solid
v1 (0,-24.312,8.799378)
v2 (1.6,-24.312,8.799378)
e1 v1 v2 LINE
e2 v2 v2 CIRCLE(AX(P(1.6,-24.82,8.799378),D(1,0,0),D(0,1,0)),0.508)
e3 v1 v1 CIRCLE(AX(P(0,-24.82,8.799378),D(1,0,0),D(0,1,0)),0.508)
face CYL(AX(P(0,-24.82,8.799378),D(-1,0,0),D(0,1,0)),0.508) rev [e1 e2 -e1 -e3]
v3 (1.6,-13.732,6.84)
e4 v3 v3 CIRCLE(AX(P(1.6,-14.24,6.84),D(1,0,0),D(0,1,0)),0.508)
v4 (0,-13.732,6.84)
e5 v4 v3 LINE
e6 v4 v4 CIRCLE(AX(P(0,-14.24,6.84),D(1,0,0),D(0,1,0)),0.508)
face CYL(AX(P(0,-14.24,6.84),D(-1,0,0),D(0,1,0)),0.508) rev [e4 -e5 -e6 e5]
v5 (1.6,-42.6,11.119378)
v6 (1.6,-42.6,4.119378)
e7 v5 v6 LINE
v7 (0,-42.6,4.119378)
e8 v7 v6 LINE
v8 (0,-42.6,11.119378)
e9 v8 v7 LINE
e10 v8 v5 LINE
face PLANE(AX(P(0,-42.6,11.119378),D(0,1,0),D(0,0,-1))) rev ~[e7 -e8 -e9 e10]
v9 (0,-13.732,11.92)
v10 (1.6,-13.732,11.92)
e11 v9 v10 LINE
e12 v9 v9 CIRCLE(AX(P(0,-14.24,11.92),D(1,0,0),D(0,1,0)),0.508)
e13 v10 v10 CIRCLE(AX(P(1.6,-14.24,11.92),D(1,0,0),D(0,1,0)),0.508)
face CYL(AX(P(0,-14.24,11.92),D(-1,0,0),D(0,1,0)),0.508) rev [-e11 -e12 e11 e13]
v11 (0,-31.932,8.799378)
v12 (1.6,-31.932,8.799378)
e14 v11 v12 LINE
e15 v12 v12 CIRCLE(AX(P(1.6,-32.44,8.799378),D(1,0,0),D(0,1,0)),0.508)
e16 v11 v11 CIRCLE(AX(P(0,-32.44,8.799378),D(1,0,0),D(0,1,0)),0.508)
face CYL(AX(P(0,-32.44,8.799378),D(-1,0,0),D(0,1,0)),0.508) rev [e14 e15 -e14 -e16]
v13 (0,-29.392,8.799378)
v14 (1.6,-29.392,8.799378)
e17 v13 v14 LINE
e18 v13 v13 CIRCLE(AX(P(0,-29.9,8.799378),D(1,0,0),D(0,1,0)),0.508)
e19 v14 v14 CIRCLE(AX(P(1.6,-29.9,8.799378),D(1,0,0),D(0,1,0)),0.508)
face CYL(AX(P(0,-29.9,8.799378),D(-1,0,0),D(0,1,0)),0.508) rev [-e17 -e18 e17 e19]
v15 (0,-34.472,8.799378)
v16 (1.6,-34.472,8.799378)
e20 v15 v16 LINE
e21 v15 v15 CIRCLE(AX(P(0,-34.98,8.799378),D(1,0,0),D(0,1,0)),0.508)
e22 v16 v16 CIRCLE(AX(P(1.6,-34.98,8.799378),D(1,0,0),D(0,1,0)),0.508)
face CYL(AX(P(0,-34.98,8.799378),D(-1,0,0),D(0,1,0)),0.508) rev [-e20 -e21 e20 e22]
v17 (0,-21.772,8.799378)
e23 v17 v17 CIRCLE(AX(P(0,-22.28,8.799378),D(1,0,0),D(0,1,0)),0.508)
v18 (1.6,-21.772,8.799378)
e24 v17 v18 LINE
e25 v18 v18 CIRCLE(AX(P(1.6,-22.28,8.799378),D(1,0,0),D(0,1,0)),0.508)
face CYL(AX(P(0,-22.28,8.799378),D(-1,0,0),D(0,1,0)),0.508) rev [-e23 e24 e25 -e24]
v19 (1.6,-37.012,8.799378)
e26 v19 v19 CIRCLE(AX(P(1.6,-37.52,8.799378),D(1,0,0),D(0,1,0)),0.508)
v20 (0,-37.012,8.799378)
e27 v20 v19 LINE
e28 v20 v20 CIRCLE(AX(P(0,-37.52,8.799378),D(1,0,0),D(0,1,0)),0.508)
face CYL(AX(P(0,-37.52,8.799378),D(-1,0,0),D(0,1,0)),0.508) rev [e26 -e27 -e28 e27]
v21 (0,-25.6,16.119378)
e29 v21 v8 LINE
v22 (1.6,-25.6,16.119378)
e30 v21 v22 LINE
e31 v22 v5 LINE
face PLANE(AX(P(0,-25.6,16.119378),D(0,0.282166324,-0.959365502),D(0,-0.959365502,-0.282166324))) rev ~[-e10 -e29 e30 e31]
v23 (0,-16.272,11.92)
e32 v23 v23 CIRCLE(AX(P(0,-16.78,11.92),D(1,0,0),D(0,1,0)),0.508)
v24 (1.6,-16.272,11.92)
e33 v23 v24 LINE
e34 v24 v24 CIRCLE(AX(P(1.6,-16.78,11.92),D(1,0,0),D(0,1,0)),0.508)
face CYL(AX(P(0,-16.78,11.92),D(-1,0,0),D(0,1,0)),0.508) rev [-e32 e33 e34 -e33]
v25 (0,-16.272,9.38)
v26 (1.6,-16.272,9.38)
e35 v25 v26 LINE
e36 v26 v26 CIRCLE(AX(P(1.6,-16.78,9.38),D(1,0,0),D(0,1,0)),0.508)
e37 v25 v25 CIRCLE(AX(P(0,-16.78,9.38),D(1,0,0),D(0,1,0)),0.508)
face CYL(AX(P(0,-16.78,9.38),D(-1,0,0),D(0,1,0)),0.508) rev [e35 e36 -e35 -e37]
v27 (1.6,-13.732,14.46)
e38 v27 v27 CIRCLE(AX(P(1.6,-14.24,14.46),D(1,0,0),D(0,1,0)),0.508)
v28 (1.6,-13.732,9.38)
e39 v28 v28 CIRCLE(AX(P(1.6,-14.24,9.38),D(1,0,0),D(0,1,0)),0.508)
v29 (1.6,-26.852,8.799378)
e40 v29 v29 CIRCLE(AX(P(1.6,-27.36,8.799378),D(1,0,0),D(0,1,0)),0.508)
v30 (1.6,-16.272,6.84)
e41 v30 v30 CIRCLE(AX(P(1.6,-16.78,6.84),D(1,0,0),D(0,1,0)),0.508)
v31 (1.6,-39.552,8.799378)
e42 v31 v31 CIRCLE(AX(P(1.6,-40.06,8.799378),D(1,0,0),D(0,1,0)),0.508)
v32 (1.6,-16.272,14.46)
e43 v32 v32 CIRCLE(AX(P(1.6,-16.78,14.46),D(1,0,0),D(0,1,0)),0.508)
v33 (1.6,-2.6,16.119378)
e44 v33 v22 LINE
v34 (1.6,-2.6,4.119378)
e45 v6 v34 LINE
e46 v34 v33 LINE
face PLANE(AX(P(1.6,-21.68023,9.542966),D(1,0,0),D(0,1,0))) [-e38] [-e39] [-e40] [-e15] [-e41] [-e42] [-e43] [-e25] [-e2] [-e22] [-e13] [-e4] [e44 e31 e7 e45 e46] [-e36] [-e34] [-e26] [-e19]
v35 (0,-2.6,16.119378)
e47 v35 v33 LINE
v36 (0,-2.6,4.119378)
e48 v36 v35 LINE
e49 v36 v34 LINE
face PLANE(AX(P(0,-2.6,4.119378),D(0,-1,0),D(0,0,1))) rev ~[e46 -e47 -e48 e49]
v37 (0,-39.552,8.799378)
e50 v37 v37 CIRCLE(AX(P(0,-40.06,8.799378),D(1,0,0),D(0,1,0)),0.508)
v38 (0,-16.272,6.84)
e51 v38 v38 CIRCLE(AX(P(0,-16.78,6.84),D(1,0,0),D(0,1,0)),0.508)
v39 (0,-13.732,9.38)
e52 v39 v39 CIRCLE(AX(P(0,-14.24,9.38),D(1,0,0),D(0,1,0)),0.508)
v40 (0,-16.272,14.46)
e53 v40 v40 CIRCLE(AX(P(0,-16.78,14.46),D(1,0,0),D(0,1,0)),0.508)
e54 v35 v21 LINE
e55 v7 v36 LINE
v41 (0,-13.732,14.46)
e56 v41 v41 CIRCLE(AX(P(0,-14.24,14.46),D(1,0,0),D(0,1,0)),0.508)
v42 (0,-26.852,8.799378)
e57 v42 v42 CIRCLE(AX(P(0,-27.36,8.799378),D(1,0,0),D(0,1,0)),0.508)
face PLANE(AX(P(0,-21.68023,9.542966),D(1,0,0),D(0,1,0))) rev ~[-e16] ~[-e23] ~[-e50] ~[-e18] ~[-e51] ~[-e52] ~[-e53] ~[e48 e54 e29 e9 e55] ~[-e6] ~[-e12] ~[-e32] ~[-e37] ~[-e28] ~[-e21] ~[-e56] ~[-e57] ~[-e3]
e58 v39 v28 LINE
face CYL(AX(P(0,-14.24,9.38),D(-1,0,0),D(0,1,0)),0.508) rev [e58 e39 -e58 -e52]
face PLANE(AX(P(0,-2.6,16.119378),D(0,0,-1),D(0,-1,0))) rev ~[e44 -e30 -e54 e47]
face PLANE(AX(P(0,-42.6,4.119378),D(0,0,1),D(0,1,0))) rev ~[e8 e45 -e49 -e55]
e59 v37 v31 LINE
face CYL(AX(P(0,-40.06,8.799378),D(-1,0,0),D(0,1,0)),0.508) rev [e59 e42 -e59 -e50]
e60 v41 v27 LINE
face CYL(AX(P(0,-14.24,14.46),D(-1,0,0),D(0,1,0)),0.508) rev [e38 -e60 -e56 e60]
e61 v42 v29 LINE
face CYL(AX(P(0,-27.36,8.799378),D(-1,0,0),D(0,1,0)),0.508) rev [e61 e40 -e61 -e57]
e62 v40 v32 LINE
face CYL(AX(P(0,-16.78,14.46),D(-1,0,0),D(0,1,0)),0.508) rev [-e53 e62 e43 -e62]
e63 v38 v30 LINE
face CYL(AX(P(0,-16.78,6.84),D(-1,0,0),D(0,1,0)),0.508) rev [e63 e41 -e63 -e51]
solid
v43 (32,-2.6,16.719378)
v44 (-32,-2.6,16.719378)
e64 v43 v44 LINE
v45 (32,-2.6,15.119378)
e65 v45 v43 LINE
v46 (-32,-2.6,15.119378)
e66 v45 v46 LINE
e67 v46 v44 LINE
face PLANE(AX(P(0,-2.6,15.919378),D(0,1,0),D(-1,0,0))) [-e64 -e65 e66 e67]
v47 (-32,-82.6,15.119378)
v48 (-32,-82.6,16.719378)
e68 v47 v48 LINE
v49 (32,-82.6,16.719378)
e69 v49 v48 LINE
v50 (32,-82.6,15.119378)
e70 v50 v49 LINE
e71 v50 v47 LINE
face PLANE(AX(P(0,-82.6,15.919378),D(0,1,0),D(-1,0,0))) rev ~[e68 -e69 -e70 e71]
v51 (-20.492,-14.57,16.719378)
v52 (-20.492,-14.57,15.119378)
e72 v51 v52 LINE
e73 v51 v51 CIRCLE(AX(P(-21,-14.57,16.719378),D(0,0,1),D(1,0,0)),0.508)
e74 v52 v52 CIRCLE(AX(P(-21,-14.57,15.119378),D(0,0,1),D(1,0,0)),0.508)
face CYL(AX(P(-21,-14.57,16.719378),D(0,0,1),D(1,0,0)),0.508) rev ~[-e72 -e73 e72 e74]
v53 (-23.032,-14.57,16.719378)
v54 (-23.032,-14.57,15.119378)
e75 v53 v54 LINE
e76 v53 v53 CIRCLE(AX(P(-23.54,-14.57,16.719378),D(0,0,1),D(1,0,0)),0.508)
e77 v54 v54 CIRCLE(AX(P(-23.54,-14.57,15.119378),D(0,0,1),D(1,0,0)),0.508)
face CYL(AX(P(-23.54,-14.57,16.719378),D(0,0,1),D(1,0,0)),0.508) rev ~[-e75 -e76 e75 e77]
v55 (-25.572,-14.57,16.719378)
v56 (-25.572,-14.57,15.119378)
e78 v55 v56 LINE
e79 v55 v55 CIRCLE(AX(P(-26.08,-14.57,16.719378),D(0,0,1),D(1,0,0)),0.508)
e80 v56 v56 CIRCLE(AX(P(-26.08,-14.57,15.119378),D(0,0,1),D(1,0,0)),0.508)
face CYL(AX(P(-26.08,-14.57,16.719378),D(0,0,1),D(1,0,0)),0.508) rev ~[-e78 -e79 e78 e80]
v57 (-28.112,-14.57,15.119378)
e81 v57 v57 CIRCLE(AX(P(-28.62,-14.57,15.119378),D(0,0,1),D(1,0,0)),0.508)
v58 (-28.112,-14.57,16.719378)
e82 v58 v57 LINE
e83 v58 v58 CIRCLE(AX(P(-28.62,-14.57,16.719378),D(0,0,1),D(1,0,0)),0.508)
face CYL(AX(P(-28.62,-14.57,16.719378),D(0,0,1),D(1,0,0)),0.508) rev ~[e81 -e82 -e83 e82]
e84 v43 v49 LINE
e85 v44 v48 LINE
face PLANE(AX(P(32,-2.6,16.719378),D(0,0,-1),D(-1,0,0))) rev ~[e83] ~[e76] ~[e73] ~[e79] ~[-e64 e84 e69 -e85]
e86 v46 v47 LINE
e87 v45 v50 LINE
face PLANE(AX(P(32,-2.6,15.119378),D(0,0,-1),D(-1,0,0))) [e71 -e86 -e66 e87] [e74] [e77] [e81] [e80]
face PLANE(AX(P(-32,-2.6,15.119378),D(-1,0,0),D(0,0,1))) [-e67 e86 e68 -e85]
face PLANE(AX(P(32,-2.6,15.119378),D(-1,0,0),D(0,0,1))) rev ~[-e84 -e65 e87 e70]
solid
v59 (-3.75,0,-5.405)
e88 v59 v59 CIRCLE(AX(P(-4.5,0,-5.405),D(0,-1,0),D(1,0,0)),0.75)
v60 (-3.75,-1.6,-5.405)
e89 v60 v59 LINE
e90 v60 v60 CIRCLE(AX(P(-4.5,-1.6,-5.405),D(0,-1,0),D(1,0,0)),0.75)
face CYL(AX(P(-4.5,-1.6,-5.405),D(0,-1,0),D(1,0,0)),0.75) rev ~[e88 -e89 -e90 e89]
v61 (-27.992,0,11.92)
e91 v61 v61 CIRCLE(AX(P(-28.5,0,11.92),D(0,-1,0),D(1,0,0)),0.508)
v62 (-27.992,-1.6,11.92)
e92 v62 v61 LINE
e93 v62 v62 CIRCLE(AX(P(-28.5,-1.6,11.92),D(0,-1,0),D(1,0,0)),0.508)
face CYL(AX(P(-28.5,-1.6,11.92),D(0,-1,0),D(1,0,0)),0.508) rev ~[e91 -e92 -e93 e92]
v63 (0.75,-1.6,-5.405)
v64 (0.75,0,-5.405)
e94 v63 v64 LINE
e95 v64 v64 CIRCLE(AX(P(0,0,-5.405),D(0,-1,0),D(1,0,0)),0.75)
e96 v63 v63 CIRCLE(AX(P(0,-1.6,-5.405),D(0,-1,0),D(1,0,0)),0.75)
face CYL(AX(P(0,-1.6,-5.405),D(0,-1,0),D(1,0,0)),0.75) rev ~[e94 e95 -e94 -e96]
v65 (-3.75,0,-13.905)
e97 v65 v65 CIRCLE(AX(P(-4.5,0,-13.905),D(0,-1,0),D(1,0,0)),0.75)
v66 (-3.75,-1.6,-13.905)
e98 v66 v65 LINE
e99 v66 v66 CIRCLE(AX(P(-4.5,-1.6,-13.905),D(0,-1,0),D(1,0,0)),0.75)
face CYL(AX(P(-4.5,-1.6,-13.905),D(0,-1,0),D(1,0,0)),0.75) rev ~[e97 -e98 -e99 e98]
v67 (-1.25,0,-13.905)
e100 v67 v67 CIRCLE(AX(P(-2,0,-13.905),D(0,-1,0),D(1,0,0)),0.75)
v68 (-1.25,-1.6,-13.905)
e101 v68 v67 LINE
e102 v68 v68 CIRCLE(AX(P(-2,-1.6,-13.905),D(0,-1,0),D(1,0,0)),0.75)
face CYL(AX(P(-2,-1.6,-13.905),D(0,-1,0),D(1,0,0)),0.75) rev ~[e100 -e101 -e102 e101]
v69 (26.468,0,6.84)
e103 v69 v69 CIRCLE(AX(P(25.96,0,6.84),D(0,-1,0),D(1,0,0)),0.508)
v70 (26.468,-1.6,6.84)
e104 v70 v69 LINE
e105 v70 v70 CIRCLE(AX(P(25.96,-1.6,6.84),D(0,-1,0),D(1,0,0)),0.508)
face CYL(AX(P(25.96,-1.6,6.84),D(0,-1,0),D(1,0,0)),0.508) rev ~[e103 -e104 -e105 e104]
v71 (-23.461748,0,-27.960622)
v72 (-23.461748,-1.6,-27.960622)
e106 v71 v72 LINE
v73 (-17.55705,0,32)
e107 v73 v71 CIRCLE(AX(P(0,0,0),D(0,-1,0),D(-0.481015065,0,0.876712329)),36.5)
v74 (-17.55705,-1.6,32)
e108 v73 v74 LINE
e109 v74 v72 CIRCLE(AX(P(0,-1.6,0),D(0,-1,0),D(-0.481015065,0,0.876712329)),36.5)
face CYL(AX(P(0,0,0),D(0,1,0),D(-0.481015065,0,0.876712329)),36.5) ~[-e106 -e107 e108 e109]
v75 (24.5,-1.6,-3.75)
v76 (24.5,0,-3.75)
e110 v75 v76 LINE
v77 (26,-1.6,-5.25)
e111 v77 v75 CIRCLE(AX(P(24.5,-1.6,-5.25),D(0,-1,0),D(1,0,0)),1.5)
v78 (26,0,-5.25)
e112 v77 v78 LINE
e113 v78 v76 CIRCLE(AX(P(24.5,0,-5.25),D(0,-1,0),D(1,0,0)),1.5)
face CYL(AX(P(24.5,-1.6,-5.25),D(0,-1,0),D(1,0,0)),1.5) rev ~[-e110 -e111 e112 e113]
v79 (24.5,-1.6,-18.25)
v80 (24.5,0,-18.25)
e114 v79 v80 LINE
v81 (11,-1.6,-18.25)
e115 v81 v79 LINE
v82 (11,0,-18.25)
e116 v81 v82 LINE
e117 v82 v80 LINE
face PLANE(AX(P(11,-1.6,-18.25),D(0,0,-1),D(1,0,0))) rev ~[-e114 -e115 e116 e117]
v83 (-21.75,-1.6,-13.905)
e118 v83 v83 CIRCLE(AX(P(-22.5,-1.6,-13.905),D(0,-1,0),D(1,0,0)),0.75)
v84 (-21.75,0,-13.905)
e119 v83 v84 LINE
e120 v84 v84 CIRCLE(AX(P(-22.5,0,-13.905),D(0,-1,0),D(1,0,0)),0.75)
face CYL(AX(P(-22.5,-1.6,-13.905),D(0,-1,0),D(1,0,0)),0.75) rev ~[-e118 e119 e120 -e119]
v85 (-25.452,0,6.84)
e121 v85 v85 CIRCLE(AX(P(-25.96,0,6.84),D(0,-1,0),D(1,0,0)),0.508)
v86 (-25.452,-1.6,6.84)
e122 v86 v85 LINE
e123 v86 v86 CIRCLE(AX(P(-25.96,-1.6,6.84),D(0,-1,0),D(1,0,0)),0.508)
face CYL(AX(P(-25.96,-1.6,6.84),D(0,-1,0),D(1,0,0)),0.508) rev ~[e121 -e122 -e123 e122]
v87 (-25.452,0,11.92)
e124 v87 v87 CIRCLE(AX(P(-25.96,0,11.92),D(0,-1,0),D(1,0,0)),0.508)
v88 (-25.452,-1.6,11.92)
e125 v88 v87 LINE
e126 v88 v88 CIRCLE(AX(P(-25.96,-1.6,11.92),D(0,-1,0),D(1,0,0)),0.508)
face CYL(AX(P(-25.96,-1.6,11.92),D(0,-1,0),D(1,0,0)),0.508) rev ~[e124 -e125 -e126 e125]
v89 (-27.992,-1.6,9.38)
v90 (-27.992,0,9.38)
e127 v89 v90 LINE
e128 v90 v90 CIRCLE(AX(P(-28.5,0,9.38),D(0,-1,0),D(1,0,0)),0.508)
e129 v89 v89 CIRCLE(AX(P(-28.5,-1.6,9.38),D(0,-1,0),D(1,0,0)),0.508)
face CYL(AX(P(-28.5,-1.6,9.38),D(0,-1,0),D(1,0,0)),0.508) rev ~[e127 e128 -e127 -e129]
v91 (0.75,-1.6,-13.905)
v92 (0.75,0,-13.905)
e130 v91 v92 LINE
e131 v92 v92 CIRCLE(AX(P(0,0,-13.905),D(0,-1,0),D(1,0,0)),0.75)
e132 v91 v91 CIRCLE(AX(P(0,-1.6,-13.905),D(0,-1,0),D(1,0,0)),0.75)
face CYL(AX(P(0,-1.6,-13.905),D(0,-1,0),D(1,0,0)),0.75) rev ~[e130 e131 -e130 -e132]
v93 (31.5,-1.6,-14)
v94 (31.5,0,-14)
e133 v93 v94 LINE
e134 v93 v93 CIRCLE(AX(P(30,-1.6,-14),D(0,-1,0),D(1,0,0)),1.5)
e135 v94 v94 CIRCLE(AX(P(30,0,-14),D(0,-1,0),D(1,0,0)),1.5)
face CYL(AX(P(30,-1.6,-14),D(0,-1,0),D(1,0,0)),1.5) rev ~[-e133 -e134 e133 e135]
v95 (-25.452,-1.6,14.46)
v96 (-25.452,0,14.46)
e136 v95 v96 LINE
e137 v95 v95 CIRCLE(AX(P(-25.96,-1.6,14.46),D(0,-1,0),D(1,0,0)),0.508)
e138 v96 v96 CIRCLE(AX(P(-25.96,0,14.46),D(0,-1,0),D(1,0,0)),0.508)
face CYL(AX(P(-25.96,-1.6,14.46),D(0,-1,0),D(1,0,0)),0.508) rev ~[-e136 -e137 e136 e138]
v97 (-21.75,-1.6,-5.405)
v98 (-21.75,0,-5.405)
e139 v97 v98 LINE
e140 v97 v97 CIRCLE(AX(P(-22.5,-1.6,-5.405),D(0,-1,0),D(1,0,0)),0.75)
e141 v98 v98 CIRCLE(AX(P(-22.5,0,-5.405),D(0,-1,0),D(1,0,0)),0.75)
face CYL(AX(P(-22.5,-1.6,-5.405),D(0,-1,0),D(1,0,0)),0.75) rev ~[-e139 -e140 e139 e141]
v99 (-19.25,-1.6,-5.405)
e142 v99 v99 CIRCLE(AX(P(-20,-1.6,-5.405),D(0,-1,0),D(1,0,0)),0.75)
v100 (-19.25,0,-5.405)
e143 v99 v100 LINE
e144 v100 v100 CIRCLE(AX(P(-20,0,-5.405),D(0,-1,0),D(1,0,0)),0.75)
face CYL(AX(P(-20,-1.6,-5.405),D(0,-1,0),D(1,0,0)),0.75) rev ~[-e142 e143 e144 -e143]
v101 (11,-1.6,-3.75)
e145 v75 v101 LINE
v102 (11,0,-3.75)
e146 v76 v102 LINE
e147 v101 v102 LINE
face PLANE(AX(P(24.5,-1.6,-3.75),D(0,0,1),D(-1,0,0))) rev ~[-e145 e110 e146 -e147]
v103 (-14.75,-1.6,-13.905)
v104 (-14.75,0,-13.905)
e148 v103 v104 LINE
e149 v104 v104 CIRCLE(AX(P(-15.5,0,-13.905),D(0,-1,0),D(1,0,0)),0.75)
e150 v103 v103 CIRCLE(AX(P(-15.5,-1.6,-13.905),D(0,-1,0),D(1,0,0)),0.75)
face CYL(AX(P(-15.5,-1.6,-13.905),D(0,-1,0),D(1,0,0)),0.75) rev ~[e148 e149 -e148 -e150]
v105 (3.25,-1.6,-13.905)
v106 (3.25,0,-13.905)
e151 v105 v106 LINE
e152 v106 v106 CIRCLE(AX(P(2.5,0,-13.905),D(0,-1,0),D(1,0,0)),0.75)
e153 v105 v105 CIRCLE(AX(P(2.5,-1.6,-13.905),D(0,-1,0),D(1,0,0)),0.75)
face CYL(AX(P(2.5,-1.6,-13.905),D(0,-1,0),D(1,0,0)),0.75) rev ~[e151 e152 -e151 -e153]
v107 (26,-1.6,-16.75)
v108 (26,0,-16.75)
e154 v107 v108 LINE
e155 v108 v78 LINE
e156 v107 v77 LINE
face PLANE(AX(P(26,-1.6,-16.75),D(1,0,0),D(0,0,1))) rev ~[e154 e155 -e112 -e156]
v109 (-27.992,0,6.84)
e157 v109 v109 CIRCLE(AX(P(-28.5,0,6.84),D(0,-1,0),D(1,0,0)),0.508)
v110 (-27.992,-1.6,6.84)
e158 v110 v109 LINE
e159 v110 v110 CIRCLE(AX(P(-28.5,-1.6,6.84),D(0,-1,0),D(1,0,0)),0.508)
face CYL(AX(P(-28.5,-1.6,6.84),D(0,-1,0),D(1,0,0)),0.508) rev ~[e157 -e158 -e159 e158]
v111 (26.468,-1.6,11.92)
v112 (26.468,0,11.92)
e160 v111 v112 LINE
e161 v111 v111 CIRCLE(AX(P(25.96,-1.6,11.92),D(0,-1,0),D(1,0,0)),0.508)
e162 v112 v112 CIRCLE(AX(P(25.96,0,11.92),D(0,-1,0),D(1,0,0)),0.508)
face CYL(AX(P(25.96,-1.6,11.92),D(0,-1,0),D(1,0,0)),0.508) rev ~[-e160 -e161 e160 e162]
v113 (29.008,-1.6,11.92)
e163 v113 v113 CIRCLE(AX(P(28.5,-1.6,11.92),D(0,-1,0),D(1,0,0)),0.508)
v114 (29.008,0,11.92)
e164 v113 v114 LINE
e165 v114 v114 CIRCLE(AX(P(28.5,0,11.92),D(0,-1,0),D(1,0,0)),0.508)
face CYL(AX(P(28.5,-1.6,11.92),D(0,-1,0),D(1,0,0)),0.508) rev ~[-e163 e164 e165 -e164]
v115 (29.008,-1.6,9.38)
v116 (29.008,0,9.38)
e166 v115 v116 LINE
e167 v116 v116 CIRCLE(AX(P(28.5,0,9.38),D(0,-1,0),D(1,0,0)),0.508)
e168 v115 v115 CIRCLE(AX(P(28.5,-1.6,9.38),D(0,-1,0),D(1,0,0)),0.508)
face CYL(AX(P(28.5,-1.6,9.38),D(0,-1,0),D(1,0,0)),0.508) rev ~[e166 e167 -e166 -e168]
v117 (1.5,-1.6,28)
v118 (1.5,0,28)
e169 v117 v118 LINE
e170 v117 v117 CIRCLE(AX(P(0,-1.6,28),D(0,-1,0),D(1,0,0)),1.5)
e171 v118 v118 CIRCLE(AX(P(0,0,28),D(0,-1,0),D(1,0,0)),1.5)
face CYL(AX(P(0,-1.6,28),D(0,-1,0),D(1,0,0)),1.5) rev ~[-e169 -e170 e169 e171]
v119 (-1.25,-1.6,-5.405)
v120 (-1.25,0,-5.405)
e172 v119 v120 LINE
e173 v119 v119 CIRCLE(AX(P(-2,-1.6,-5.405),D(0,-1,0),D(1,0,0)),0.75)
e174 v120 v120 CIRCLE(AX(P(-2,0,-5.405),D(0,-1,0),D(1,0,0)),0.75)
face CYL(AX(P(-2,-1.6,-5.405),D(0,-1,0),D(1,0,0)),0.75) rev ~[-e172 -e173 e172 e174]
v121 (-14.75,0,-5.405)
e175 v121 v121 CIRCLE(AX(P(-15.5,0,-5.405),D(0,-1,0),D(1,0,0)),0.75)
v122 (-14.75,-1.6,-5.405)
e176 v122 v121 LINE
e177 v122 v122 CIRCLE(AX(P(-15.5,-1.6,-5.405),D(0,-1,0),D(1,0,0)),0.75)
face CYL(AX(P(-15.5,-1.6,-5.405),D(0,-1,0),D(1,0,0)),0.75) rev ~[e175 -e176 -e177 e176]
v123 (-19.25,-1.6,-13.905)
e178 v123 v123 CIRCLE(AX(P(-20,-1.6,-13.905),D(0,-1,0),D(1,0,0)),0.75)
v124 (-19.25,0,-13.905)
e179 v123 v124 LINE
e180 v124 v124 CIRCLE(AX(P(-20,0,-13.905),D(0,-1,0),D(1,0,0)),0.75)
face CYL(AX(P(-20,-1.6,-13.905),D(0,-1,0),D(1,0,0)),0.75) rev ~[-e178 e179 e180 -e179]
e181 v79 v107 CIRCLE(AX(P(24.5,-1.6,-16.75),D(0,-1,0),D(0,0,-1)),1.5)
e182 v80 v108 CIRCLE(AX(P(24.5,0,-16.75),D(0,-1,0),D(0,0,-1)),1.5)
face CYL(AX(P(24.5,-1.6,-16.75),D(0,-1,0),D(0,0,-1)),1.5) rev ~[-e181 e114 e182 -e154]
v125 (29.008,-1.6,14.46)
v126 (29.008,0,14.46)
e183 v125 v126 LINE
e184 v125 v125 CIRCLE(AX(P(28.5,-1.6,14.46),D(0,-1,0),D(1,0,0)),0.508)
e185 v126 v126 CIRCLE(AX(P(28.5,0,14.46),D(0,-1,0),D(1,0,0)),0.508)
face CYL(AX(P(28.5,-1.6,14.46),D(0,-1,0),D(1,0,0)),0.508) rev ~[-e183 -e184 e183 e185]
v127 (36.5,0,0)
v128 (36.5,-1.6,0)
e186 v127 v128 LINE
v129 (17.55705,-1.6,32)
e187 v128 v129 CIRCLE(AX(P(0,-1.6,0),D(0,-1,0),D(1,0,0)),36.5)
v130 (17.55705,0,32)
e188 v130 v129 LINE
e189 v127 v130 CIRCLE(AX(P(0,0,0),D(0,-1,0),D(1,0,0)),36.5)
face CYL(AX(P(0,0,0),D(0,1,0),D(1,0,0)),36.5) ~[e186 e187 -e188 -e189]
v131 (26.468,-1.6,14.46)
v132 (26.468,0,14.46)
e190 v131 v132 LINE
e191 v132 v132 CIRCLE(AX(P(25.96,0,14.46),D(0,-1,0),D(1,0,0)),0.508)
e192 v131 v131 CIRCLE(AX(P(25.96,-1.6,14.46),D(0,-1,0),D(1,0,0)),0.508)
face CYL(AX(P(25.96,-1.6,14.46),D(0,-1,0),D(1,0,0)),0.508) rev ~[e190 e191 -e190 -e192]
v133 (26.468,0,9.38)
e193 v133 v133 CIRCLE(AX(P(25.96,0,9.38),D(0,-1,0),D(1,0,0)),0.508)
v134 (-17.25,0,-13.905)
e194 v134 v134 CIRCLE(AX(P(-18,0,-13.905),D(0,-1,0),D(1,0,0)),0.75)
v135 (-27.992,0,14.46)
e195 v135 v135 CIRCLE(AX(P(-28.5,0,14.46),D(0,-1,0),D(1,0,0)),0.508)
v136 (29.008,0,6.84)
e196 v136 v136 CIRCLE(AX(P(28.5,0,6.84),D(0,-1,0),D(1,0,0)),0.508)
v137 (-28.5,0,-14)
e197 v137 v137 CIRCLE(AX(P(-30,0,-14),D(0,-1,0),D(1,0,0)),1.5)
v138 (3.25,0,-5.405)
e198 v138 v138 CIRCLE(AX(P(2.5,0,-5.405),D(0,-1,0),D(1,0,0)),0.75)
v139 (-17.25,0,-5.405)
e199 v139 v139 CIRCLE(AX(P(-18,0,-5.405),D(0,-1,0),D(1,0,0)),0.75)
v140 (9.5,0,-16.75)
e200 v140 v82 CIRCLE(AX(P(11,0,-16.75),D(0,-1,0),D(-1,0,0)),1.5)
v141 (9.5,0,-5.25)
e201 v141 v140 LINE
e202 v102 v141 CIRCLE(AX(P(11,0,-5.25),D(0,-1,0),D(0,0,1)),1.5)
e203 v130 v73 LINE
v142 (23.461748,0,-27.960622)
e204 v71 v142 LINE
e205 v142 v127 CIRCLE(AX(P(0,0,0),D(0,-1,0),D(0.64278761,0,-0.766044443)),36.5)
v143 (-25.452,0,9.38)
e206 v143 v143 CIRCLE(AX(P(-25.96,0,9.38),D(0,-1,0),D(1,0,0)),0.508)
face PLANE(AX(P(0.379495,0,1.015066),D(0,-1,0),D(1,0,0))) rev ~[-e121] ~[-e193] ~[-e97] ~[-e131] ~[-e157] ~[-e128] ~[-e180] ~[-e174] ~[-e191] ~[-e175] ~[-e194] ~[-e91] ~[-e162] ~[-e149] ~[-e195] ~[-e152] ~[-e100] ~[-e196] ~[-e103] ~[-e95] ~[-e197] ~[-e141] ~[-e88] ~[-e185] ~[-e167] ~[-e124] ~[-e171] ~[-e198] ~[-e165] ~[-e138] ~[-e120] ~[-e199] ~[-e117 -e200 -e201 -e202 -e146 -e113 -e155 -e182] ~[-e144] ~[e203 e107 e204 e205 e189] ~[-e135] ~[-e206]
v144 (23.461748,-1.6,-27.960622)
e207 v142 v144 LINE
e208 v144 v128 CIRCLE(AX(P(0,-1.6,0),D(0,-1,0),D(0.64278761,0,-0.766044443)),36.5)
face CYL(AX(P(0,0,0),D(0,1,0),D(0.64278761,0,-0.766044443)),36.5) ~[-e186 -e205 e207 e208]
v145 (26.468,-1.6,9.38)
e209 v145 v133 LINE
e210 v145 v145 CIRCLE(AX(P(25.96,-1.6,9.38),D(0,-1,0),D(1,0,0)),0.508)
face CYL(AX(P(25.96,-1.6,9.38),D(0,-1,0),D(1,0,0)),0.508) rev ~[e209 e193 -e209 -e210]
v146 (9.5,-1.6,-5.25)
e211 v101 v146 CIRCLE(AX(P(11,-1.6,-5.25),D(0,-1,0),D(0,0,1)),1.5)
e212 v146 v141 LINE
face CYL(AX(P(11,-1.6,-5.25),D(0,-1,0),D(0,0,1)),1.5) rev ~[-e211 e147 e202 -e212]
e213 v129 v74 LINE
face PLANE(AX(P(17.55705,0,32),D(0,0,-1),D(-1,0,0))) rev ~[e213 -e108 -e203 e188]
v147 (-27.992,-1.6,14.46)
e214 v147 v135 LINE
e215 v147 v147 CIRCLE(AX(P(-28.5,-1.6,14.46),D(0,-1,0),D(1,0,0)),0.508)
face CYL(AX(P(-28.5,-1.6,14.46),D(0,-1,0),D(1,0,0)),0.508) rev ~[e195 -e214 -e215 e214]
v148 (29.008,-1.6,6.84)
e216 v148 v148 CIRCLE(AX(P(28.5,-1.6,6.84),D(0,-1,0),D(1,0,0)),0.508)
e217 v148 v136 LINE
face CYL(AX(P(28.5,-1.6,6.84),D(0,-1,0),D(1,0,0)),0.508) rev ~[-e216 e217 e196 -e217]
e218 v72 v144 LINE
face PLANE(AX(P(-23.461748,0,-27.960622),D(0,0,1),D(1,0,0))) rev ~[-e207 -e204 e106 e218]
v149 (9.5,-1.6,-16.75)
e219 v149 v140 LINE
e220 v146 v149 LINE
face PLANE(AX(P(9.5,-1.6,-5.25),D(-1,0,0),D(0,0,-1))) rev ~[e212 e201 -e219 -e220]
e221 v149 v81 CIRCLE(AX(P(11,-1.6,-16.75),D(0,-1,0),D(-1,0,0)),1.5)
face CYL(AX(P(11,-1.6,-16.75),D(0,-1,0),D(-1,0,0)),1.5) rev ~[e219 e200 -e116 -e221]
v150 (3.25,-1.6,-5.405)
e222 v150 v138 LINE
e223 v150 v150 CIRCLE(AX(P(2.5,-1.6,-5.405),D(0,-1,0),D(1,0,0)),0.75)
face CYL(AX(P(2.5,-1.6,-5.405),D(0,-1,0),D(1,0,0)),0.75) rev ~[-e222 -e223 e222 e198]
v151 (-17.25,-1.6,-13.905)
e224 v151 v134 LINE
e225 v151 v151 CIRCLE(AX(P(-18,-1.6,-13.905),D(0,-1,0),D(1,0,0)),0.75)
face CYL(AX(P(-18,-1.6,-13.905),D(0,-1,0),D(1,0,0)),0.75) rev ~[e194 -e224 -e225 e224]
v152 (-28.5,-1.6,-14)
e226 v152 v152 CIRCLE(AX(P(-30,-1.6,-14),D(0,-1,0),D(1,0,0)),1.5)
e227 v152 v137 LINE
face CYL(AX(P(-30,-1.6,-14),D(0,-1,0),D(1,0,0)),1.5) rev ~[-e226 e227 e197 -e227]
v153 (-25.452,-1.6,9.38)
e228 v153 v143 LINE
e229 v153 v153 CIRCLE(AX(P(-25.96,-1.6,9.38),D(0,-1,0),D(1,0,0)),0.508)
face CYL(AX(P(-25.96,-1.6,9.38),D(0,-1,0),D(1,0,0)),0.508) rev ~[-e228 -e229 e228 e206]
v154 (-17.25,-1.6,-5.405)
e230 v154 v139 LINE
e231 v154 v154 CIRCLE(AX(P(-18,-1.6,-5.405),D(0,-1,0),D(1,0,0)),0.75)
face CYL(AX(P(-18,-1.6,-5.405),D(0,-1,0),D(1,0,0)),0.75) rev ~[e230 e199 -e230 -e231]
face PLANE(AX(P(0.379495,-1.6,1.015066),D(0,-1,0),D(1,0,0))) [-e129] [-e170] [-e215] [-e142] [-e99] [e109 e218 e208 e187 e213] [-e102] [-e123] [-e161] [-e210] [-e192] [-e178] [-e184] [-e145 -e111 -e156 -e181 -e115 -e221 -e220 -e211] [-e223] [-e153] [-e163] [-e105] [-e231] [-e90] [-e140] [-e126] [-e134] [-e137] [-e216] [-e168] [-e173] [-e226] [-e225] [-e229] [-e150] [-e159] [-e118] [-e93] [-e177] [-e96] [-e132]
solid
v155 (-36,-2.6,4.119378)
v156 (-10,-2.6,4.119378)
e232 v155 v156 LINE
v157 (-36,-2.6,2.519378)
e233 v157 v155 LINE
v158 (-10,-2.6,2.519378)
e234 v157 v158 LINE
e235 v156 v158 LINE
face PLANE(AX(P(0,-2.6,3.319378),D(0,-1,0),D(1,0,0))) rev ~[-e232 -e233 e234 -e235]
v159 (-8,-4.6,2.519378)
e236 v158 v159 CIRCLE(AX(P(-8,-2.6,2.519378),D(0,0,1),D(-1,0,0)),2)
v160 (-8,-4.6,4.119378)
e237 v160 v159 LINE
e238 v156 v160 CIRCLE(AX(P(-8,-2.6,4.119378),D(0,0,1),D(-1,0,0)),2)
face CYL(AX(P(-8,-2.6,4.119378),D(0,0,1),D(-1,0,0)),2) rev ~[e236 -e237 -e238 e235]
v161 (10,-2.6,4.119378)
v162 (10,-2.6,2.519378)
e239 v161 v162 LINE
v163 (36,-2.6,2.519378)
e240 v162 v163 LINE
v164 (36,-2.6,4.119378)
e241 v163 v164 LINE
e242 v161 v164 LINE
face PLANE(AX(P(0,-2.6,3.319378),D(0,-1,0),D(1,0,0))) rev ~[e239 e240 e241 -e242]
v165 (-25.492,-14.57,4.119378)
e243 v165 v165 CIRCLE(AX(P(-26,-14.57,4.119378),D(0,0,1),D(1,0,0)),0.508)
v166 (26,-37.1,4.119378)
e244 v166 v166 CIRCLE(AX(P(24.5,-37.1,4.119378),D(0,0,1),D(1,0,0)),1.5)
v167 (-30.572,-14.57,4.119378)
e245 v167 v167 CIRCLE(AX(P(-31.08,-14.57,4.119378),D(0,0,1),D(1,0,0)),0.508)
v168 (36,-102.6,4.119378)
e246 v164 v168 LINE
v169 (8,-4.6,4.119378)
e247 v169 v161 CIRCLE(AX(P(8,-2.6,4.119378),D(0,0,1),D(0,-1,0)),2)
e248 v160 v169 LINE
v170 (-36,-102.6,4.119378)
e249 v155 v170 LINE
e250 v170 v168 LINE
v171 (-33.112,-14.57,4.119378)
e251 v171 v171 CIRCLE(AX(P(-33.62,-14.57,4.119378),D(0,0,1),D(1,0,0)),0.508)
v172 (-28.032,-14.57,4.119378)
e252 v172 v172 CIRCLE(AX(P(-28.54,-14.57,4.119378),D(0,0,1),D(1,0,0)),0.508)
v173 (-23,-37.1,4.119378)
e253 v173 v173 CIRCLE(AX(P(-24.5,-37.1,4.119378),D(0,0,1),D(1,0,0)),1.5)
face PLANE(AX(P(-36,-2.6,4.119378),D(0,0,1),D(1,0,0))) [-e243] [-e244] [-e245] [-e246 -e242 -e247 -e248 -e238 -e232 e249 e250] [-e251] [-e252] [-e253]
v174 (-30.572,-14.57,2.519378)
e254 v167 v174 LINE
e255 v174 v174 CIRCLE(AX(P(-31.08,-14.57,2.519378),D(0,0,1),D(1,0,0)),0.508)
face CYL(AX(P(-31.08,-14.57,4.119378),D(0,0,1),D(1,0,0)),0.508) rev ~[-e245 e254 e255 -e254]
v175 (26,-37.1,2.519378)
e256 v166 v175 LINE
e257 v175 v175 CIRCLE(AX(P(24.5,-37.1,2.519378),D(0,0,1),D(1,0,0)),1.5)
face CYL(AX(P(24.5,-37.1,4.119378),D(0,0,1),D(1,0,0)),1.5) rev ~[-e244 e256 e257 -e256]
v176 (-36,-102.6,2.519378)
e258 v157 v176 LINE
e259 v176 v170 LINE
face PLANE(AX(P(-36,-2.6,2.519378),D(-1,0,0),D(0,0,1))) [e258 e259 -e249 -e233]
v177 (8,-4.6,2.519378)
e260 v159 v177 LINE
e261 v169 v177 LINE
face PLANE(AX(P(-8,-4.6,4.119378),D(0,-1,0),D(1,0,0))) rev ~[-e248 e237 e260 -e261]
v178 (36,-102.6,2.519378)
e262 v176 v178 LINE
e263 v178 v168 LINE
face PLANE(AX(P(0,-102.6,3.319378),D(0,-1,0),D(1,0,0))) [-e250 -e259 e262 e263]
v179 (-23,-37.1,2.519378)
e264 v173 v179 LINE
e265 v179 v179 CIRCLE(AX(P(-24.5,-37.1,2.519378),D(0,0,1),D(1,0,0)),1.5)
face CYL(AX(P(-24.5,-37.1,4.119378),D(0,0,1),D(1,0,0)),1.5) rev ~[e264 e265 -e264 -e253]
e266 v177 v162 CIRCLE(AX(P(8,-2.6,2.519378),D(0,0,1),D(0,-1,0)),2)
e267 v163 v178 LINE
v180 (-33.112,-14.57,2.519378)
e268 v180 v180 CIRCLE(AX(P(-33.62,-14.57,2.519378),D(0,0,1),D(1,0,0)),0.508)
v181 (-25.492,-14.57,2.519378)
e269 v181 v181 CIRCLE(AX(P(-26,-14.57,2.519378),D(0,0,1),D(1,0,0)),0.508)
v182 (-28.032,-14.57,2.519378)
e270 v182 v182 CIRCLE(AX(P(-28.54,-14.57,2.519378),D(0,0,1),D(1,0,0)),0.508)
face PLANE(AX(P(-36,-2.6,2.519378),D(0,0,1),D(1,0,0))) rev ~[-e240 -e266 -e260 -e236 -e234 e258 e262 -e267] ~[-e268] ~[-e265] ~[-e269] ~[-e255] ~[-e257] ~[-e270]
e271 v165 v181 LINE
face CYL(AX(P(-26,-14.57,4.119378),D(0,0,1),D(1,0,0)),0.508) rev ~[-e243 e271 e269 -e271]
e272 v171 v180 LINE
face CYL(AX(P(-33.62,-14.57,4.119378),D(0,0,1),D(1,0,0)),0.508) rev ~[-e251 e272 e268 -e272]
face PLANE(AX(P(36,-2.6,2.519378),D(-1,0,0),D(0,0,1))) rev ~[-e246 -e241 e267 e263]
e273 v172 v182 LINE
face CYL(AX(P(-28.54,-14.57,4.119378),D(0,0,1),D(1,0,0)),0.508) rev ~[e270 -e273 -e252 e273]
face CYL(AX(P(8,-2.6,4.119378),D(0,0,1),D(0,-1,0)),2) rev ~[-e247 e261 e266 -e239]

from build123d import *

# Parameters (mm, degrees)
F1_DEPTH  = 1.6
F2_R      = 0.508
F2_R_2    = 0.75
F2_R_3    = 1.5
F3_DEPTH  = 25
F5_W      = 72
F5_H      = 1.6
F6_DEPTH  = 100
F7_R      = 1.5
F7_R_2    = 0.508
F8_DEPTH  = 25
F9_R      = 0.508
F10_DEPTH = 1.6
F11_W     = 64
F11_H     = 1.6
F12_DEPTH = 80
F13_R     = 0.508
F14_DEPTH = 25


with BuildPart() as f1:
    # F0 (on Front) → F1 (new body)
    with BuildSketch(Plane.XZ):
        with BuildLine():
            ThreePointArc((23.4617477536, -27.9606221738), (33.0802342268, -15.4255665535), (36.5, 0))
            ThreePointArc((36.5, 0), (31.4092527777, 18.5932471598), (17.5570498661, 32))
            Line((17.5570498661, 32), (-17.5570498661, 32))
            ThreePointArc((-17.5570498661, 32), (-36.3242961722, 3.5770808757), (-23.4617477536, -27.9606221738))
            Line((-23.4617477536, -27.9606221738), (23.4617477536, -27.9606221738))
        make_face()
    extrude(amount=F1_DEPTH)

    # F2 (on face) → F3 (cut)
    with BuildSketch(Plane.XZ.offset(1.6)):
        with Locations((28.5, 14.46)):
            Circle(F2_R)
        with Locations((28.5, 11.92)):
            Circle(F2_R)
        with Locations((28.5, 9.38)):
            Circle(F2_R)
        with Locations((28.5, 6.84)):
            Circle(F2_R)
        with Locations((25.96, 14.46)):
            Circle(F2_R)
        with Locations((25.96, 11.92)):
            Circle(F2_R)
        with Locations((25.96, 9.38)):
            Circle(F2_R)
        with Locations((25.96, 6.84)):
            Circle(F2_R)
        with BuildLine():
            ThreePointArc((26, -5.25), (25.5606601718, -4.1893398282), (24.5, -3.75))
            Line((24.5, -3.75), (11, -3.75))
            ThreePointArc((11, -3.75), (9.9393398282, -4.1893398282), (9.5, -5.25))
            Line((9.5, -5.25), (9.5, -16.75))
            ThreePointArc((9.5, -16.75), (9.9393398282, -17.8106601718), (11, -18.25))
            Line((11, -18.25), (24.5, -18.25))
            ThreePointArc((24.5, -18.25), (25.5606601718, -17.8106601718), (26, -16.75))
            Line((26, -16.75), (26, -5.25))
        make_face()
        with Locations((-22.5, -5.405)):
            Circle(F2_R_2)
        with Locations((-20, -5.405)):
            Circle(F2_R_2)
        with Locations((-18, -5.405)):
            Circle(F2_R_2)
        with Locations((-15.5, -5.405)):
            Circle(F2_R_2)
        with Locations((-22.5, -13.905)):
            Circle(F2_R_2)
        with Locations((-20, -13.905)):
            Circle(F2_R_2)
        with Locations((-18, -13.905)):
            Circle(F2_R_2)
        with Locations((-15.5, -13.905)):
            Circle(F2_R_2)
        with Locations((-4.5, -5.405)):
            Circle(F2_R_2)
        with Locations((-2, -5.405)):
            Circle(F2_R_2)
        with Locations((0, -5.405)):
            Circle(F2_R_2)
        with Locations((2.5, -5.405)):
            Circle(F2_R_2)
        with Locations((-4.5, -13.905)):
            Circle(F2_R_2)
        with Locations((-2, -13.905)):
            Circle(F2_R_2)
        with Locations((0, -13.905)):
            Circle(F2_R_2)
        with Locations((2.5, -13.905)):
            Circle(F2_R_2)
        with Locations((-25.96, 6.84)):
            Circle(F2_R)
        with Locations((-25.96, 9.38)):
            Circle(F2_R)
        with Locations((-25.96, 11.92)):
            Circle(F2_R)
        with Locations((-25.96, 14.46)):
            Circle(F2_R)
        with Locations((-28.5, 14.46)):
            Circle(F2_R)
        with Locations((-28.5, 11.92)):
            Circle(F2_R)
        with Locations((-28.5, 9.38)):
            Circle(F2_R)
        with Locations((-28.5, 6.84)):
            Circle(F2_R)
        with Locations((0, 28)):
            Circle(F2_R_3)
        with Locations((-30, -14)):
            Circle(F2_R_3)
        with Locations((30, -14)):
            Circle(F2_R_3)
    extrude(amount=-F3_DEPTH, mode=Mode.SUBTRACT)


with BuildPart() as f6:
    # F5 (on offset) → F6 (new body)
    with BuildSketch(Plane.XZ.offset(2.6)):
        with Locations((0, 3.3193778262)):
            Rectangle(F5_W, F5_H)
    extrude(amount=F6_DEPTH)

    # F7 (on face) → F8 (cut)
    with BuildSketch(Plane.XY.offset(4.1193778262)):
        with Locations((24.5, -37.1)):
            Circle(F7_R)
        with BuildLine():
            ThreePointArc((8, -4.6), (9.4142135624, -4.0142135624), (10, -2.6))
            Line((10, -2.6), (-10, -2.6))
            ThreePointArc((-10, -2.6), (-9.4142135624, -4.0142135624), (-8, -4.6))
            Line((-8, -4.6), (8, -4.6))
        make_face()
        with Locations((-24.5, -37.1)):
            Circle(F7_R)
        with Locations((-26, -14.57)):
            Circle(F7_R_2)
        with Locations((-28.54, -14.57)):
            Circle(F7_R_2)
        with Locations((-31.08, -14.57)):
            Circle(F7_R_2)
        with Locations((-33.62, -14.57)):
            Circle(F7_R_2)
    extrude(amount=-F8_DEPTH, mode=Mode.SUBTRACT)


with BuildPart() as f10:
    # F9 (on Right) → F10 (new body)
    with BuildSketch(Plane.YZ):
        Polygon((-2.6, 4.1193778262), (-2.6, 16.1193778262), (-25.6, 16.1193778262), (-42.6, 11.1193778262), (-42.6, 4.1193778262), align=None)
        with Locations((-40.06, 8.7993778262)):
            Circle(F9_R, mode=Mode.SUBTRACT)
        with Locations((-37.52, 8.7993778262)):
            Circle(F9_R, mode=Mode.SUBTRACT)
        with Locations((-34.98, 8.7993778262)):
            Circle(F9_R, mode=Mode.SUBTRACT)
        with Locations((-32.44, 8.7993778262)):
            Circle(F9_R, mode=Mode.SUBTRACT)
        with Locations((-29.9, 8.7993778262)):
            Circle(F9_R, mode=Mode.SUBTRACT)
        with Locations((-27.36, 8.7993778262)):
            Circle(F9_R, mode=Mode.SUBTRACT)
        with Locations((-24.82, 8.7993778262)):
            Circle(F9_R, mode=Mode.SUBTRACT)
        with Locations((-16.78, 6.84)):
            Circle(F9_R, mode=Mode.SUBTRACT)
        with Locations((-14.24, 6.84)):
            Circle(F9_R, mode=Mode.SUBTRACT)
        with Locations((-22.28, 8.7993778262)):
            Circle(F9_R, mode=Mode.SUBTRACT)
        with Locations((-16.78, 9.38)):
            Circle(F9_R, mode=Mode.SUBTRACT)
        with Locations((-14.24, 9.38)):
            Circle(F9_R, mode=Mode.SUBTRACT)
        with Locations((-16.78, 11.92)):
            Circle(F9_R, mode=Mode.SUBTRACT)
        with Locations((-14.24, 11.92)):
            Circle(F9_R, mode=Mode.SUBTRACT)
        with Locations((-16.78, 14.46)):
            Circle(F9_R, mode=Mode.SUBTRACT)
        with Locations((-14.24, 14.46)):
            Circle(F9_R, mode=Mode.SUBTRACT)
    extrude(amount=F10_DEPTH)


with BuildPart() as f12:
    # F11 (on face) → F12 (new body)
    with BuildSketch(Plane(origin=(0, -2.6, 0), x_dir=(-1, 0, 0), z_dir=(0, 1, 0))):
        with Locations((0, 15.9193778262)):
            Rectangle(F11_W, F11_H)
    extrude(amount=-F12_DEPTH)

    # F13 (on face) → F14 (cut)
    with BuildSketch(Plane.XY.offset(16.7193778262)):
        with Locations((-21, -14.57)):
            Circle(F13_R)
        with Locations((-23.54, -14.57)):
            Circle(F13_R)
        with Locations((-26.08, -14.57)):
            Circle(F13_R)
        with Locations((-28.62, -14.57)):
            Circle(F13_R)
    extrude(amount=-F14_DEPTH, mode=Mode.SUBTRACT)


solid = Compound([f1.part, f6.part, f10.part, f12.part])
